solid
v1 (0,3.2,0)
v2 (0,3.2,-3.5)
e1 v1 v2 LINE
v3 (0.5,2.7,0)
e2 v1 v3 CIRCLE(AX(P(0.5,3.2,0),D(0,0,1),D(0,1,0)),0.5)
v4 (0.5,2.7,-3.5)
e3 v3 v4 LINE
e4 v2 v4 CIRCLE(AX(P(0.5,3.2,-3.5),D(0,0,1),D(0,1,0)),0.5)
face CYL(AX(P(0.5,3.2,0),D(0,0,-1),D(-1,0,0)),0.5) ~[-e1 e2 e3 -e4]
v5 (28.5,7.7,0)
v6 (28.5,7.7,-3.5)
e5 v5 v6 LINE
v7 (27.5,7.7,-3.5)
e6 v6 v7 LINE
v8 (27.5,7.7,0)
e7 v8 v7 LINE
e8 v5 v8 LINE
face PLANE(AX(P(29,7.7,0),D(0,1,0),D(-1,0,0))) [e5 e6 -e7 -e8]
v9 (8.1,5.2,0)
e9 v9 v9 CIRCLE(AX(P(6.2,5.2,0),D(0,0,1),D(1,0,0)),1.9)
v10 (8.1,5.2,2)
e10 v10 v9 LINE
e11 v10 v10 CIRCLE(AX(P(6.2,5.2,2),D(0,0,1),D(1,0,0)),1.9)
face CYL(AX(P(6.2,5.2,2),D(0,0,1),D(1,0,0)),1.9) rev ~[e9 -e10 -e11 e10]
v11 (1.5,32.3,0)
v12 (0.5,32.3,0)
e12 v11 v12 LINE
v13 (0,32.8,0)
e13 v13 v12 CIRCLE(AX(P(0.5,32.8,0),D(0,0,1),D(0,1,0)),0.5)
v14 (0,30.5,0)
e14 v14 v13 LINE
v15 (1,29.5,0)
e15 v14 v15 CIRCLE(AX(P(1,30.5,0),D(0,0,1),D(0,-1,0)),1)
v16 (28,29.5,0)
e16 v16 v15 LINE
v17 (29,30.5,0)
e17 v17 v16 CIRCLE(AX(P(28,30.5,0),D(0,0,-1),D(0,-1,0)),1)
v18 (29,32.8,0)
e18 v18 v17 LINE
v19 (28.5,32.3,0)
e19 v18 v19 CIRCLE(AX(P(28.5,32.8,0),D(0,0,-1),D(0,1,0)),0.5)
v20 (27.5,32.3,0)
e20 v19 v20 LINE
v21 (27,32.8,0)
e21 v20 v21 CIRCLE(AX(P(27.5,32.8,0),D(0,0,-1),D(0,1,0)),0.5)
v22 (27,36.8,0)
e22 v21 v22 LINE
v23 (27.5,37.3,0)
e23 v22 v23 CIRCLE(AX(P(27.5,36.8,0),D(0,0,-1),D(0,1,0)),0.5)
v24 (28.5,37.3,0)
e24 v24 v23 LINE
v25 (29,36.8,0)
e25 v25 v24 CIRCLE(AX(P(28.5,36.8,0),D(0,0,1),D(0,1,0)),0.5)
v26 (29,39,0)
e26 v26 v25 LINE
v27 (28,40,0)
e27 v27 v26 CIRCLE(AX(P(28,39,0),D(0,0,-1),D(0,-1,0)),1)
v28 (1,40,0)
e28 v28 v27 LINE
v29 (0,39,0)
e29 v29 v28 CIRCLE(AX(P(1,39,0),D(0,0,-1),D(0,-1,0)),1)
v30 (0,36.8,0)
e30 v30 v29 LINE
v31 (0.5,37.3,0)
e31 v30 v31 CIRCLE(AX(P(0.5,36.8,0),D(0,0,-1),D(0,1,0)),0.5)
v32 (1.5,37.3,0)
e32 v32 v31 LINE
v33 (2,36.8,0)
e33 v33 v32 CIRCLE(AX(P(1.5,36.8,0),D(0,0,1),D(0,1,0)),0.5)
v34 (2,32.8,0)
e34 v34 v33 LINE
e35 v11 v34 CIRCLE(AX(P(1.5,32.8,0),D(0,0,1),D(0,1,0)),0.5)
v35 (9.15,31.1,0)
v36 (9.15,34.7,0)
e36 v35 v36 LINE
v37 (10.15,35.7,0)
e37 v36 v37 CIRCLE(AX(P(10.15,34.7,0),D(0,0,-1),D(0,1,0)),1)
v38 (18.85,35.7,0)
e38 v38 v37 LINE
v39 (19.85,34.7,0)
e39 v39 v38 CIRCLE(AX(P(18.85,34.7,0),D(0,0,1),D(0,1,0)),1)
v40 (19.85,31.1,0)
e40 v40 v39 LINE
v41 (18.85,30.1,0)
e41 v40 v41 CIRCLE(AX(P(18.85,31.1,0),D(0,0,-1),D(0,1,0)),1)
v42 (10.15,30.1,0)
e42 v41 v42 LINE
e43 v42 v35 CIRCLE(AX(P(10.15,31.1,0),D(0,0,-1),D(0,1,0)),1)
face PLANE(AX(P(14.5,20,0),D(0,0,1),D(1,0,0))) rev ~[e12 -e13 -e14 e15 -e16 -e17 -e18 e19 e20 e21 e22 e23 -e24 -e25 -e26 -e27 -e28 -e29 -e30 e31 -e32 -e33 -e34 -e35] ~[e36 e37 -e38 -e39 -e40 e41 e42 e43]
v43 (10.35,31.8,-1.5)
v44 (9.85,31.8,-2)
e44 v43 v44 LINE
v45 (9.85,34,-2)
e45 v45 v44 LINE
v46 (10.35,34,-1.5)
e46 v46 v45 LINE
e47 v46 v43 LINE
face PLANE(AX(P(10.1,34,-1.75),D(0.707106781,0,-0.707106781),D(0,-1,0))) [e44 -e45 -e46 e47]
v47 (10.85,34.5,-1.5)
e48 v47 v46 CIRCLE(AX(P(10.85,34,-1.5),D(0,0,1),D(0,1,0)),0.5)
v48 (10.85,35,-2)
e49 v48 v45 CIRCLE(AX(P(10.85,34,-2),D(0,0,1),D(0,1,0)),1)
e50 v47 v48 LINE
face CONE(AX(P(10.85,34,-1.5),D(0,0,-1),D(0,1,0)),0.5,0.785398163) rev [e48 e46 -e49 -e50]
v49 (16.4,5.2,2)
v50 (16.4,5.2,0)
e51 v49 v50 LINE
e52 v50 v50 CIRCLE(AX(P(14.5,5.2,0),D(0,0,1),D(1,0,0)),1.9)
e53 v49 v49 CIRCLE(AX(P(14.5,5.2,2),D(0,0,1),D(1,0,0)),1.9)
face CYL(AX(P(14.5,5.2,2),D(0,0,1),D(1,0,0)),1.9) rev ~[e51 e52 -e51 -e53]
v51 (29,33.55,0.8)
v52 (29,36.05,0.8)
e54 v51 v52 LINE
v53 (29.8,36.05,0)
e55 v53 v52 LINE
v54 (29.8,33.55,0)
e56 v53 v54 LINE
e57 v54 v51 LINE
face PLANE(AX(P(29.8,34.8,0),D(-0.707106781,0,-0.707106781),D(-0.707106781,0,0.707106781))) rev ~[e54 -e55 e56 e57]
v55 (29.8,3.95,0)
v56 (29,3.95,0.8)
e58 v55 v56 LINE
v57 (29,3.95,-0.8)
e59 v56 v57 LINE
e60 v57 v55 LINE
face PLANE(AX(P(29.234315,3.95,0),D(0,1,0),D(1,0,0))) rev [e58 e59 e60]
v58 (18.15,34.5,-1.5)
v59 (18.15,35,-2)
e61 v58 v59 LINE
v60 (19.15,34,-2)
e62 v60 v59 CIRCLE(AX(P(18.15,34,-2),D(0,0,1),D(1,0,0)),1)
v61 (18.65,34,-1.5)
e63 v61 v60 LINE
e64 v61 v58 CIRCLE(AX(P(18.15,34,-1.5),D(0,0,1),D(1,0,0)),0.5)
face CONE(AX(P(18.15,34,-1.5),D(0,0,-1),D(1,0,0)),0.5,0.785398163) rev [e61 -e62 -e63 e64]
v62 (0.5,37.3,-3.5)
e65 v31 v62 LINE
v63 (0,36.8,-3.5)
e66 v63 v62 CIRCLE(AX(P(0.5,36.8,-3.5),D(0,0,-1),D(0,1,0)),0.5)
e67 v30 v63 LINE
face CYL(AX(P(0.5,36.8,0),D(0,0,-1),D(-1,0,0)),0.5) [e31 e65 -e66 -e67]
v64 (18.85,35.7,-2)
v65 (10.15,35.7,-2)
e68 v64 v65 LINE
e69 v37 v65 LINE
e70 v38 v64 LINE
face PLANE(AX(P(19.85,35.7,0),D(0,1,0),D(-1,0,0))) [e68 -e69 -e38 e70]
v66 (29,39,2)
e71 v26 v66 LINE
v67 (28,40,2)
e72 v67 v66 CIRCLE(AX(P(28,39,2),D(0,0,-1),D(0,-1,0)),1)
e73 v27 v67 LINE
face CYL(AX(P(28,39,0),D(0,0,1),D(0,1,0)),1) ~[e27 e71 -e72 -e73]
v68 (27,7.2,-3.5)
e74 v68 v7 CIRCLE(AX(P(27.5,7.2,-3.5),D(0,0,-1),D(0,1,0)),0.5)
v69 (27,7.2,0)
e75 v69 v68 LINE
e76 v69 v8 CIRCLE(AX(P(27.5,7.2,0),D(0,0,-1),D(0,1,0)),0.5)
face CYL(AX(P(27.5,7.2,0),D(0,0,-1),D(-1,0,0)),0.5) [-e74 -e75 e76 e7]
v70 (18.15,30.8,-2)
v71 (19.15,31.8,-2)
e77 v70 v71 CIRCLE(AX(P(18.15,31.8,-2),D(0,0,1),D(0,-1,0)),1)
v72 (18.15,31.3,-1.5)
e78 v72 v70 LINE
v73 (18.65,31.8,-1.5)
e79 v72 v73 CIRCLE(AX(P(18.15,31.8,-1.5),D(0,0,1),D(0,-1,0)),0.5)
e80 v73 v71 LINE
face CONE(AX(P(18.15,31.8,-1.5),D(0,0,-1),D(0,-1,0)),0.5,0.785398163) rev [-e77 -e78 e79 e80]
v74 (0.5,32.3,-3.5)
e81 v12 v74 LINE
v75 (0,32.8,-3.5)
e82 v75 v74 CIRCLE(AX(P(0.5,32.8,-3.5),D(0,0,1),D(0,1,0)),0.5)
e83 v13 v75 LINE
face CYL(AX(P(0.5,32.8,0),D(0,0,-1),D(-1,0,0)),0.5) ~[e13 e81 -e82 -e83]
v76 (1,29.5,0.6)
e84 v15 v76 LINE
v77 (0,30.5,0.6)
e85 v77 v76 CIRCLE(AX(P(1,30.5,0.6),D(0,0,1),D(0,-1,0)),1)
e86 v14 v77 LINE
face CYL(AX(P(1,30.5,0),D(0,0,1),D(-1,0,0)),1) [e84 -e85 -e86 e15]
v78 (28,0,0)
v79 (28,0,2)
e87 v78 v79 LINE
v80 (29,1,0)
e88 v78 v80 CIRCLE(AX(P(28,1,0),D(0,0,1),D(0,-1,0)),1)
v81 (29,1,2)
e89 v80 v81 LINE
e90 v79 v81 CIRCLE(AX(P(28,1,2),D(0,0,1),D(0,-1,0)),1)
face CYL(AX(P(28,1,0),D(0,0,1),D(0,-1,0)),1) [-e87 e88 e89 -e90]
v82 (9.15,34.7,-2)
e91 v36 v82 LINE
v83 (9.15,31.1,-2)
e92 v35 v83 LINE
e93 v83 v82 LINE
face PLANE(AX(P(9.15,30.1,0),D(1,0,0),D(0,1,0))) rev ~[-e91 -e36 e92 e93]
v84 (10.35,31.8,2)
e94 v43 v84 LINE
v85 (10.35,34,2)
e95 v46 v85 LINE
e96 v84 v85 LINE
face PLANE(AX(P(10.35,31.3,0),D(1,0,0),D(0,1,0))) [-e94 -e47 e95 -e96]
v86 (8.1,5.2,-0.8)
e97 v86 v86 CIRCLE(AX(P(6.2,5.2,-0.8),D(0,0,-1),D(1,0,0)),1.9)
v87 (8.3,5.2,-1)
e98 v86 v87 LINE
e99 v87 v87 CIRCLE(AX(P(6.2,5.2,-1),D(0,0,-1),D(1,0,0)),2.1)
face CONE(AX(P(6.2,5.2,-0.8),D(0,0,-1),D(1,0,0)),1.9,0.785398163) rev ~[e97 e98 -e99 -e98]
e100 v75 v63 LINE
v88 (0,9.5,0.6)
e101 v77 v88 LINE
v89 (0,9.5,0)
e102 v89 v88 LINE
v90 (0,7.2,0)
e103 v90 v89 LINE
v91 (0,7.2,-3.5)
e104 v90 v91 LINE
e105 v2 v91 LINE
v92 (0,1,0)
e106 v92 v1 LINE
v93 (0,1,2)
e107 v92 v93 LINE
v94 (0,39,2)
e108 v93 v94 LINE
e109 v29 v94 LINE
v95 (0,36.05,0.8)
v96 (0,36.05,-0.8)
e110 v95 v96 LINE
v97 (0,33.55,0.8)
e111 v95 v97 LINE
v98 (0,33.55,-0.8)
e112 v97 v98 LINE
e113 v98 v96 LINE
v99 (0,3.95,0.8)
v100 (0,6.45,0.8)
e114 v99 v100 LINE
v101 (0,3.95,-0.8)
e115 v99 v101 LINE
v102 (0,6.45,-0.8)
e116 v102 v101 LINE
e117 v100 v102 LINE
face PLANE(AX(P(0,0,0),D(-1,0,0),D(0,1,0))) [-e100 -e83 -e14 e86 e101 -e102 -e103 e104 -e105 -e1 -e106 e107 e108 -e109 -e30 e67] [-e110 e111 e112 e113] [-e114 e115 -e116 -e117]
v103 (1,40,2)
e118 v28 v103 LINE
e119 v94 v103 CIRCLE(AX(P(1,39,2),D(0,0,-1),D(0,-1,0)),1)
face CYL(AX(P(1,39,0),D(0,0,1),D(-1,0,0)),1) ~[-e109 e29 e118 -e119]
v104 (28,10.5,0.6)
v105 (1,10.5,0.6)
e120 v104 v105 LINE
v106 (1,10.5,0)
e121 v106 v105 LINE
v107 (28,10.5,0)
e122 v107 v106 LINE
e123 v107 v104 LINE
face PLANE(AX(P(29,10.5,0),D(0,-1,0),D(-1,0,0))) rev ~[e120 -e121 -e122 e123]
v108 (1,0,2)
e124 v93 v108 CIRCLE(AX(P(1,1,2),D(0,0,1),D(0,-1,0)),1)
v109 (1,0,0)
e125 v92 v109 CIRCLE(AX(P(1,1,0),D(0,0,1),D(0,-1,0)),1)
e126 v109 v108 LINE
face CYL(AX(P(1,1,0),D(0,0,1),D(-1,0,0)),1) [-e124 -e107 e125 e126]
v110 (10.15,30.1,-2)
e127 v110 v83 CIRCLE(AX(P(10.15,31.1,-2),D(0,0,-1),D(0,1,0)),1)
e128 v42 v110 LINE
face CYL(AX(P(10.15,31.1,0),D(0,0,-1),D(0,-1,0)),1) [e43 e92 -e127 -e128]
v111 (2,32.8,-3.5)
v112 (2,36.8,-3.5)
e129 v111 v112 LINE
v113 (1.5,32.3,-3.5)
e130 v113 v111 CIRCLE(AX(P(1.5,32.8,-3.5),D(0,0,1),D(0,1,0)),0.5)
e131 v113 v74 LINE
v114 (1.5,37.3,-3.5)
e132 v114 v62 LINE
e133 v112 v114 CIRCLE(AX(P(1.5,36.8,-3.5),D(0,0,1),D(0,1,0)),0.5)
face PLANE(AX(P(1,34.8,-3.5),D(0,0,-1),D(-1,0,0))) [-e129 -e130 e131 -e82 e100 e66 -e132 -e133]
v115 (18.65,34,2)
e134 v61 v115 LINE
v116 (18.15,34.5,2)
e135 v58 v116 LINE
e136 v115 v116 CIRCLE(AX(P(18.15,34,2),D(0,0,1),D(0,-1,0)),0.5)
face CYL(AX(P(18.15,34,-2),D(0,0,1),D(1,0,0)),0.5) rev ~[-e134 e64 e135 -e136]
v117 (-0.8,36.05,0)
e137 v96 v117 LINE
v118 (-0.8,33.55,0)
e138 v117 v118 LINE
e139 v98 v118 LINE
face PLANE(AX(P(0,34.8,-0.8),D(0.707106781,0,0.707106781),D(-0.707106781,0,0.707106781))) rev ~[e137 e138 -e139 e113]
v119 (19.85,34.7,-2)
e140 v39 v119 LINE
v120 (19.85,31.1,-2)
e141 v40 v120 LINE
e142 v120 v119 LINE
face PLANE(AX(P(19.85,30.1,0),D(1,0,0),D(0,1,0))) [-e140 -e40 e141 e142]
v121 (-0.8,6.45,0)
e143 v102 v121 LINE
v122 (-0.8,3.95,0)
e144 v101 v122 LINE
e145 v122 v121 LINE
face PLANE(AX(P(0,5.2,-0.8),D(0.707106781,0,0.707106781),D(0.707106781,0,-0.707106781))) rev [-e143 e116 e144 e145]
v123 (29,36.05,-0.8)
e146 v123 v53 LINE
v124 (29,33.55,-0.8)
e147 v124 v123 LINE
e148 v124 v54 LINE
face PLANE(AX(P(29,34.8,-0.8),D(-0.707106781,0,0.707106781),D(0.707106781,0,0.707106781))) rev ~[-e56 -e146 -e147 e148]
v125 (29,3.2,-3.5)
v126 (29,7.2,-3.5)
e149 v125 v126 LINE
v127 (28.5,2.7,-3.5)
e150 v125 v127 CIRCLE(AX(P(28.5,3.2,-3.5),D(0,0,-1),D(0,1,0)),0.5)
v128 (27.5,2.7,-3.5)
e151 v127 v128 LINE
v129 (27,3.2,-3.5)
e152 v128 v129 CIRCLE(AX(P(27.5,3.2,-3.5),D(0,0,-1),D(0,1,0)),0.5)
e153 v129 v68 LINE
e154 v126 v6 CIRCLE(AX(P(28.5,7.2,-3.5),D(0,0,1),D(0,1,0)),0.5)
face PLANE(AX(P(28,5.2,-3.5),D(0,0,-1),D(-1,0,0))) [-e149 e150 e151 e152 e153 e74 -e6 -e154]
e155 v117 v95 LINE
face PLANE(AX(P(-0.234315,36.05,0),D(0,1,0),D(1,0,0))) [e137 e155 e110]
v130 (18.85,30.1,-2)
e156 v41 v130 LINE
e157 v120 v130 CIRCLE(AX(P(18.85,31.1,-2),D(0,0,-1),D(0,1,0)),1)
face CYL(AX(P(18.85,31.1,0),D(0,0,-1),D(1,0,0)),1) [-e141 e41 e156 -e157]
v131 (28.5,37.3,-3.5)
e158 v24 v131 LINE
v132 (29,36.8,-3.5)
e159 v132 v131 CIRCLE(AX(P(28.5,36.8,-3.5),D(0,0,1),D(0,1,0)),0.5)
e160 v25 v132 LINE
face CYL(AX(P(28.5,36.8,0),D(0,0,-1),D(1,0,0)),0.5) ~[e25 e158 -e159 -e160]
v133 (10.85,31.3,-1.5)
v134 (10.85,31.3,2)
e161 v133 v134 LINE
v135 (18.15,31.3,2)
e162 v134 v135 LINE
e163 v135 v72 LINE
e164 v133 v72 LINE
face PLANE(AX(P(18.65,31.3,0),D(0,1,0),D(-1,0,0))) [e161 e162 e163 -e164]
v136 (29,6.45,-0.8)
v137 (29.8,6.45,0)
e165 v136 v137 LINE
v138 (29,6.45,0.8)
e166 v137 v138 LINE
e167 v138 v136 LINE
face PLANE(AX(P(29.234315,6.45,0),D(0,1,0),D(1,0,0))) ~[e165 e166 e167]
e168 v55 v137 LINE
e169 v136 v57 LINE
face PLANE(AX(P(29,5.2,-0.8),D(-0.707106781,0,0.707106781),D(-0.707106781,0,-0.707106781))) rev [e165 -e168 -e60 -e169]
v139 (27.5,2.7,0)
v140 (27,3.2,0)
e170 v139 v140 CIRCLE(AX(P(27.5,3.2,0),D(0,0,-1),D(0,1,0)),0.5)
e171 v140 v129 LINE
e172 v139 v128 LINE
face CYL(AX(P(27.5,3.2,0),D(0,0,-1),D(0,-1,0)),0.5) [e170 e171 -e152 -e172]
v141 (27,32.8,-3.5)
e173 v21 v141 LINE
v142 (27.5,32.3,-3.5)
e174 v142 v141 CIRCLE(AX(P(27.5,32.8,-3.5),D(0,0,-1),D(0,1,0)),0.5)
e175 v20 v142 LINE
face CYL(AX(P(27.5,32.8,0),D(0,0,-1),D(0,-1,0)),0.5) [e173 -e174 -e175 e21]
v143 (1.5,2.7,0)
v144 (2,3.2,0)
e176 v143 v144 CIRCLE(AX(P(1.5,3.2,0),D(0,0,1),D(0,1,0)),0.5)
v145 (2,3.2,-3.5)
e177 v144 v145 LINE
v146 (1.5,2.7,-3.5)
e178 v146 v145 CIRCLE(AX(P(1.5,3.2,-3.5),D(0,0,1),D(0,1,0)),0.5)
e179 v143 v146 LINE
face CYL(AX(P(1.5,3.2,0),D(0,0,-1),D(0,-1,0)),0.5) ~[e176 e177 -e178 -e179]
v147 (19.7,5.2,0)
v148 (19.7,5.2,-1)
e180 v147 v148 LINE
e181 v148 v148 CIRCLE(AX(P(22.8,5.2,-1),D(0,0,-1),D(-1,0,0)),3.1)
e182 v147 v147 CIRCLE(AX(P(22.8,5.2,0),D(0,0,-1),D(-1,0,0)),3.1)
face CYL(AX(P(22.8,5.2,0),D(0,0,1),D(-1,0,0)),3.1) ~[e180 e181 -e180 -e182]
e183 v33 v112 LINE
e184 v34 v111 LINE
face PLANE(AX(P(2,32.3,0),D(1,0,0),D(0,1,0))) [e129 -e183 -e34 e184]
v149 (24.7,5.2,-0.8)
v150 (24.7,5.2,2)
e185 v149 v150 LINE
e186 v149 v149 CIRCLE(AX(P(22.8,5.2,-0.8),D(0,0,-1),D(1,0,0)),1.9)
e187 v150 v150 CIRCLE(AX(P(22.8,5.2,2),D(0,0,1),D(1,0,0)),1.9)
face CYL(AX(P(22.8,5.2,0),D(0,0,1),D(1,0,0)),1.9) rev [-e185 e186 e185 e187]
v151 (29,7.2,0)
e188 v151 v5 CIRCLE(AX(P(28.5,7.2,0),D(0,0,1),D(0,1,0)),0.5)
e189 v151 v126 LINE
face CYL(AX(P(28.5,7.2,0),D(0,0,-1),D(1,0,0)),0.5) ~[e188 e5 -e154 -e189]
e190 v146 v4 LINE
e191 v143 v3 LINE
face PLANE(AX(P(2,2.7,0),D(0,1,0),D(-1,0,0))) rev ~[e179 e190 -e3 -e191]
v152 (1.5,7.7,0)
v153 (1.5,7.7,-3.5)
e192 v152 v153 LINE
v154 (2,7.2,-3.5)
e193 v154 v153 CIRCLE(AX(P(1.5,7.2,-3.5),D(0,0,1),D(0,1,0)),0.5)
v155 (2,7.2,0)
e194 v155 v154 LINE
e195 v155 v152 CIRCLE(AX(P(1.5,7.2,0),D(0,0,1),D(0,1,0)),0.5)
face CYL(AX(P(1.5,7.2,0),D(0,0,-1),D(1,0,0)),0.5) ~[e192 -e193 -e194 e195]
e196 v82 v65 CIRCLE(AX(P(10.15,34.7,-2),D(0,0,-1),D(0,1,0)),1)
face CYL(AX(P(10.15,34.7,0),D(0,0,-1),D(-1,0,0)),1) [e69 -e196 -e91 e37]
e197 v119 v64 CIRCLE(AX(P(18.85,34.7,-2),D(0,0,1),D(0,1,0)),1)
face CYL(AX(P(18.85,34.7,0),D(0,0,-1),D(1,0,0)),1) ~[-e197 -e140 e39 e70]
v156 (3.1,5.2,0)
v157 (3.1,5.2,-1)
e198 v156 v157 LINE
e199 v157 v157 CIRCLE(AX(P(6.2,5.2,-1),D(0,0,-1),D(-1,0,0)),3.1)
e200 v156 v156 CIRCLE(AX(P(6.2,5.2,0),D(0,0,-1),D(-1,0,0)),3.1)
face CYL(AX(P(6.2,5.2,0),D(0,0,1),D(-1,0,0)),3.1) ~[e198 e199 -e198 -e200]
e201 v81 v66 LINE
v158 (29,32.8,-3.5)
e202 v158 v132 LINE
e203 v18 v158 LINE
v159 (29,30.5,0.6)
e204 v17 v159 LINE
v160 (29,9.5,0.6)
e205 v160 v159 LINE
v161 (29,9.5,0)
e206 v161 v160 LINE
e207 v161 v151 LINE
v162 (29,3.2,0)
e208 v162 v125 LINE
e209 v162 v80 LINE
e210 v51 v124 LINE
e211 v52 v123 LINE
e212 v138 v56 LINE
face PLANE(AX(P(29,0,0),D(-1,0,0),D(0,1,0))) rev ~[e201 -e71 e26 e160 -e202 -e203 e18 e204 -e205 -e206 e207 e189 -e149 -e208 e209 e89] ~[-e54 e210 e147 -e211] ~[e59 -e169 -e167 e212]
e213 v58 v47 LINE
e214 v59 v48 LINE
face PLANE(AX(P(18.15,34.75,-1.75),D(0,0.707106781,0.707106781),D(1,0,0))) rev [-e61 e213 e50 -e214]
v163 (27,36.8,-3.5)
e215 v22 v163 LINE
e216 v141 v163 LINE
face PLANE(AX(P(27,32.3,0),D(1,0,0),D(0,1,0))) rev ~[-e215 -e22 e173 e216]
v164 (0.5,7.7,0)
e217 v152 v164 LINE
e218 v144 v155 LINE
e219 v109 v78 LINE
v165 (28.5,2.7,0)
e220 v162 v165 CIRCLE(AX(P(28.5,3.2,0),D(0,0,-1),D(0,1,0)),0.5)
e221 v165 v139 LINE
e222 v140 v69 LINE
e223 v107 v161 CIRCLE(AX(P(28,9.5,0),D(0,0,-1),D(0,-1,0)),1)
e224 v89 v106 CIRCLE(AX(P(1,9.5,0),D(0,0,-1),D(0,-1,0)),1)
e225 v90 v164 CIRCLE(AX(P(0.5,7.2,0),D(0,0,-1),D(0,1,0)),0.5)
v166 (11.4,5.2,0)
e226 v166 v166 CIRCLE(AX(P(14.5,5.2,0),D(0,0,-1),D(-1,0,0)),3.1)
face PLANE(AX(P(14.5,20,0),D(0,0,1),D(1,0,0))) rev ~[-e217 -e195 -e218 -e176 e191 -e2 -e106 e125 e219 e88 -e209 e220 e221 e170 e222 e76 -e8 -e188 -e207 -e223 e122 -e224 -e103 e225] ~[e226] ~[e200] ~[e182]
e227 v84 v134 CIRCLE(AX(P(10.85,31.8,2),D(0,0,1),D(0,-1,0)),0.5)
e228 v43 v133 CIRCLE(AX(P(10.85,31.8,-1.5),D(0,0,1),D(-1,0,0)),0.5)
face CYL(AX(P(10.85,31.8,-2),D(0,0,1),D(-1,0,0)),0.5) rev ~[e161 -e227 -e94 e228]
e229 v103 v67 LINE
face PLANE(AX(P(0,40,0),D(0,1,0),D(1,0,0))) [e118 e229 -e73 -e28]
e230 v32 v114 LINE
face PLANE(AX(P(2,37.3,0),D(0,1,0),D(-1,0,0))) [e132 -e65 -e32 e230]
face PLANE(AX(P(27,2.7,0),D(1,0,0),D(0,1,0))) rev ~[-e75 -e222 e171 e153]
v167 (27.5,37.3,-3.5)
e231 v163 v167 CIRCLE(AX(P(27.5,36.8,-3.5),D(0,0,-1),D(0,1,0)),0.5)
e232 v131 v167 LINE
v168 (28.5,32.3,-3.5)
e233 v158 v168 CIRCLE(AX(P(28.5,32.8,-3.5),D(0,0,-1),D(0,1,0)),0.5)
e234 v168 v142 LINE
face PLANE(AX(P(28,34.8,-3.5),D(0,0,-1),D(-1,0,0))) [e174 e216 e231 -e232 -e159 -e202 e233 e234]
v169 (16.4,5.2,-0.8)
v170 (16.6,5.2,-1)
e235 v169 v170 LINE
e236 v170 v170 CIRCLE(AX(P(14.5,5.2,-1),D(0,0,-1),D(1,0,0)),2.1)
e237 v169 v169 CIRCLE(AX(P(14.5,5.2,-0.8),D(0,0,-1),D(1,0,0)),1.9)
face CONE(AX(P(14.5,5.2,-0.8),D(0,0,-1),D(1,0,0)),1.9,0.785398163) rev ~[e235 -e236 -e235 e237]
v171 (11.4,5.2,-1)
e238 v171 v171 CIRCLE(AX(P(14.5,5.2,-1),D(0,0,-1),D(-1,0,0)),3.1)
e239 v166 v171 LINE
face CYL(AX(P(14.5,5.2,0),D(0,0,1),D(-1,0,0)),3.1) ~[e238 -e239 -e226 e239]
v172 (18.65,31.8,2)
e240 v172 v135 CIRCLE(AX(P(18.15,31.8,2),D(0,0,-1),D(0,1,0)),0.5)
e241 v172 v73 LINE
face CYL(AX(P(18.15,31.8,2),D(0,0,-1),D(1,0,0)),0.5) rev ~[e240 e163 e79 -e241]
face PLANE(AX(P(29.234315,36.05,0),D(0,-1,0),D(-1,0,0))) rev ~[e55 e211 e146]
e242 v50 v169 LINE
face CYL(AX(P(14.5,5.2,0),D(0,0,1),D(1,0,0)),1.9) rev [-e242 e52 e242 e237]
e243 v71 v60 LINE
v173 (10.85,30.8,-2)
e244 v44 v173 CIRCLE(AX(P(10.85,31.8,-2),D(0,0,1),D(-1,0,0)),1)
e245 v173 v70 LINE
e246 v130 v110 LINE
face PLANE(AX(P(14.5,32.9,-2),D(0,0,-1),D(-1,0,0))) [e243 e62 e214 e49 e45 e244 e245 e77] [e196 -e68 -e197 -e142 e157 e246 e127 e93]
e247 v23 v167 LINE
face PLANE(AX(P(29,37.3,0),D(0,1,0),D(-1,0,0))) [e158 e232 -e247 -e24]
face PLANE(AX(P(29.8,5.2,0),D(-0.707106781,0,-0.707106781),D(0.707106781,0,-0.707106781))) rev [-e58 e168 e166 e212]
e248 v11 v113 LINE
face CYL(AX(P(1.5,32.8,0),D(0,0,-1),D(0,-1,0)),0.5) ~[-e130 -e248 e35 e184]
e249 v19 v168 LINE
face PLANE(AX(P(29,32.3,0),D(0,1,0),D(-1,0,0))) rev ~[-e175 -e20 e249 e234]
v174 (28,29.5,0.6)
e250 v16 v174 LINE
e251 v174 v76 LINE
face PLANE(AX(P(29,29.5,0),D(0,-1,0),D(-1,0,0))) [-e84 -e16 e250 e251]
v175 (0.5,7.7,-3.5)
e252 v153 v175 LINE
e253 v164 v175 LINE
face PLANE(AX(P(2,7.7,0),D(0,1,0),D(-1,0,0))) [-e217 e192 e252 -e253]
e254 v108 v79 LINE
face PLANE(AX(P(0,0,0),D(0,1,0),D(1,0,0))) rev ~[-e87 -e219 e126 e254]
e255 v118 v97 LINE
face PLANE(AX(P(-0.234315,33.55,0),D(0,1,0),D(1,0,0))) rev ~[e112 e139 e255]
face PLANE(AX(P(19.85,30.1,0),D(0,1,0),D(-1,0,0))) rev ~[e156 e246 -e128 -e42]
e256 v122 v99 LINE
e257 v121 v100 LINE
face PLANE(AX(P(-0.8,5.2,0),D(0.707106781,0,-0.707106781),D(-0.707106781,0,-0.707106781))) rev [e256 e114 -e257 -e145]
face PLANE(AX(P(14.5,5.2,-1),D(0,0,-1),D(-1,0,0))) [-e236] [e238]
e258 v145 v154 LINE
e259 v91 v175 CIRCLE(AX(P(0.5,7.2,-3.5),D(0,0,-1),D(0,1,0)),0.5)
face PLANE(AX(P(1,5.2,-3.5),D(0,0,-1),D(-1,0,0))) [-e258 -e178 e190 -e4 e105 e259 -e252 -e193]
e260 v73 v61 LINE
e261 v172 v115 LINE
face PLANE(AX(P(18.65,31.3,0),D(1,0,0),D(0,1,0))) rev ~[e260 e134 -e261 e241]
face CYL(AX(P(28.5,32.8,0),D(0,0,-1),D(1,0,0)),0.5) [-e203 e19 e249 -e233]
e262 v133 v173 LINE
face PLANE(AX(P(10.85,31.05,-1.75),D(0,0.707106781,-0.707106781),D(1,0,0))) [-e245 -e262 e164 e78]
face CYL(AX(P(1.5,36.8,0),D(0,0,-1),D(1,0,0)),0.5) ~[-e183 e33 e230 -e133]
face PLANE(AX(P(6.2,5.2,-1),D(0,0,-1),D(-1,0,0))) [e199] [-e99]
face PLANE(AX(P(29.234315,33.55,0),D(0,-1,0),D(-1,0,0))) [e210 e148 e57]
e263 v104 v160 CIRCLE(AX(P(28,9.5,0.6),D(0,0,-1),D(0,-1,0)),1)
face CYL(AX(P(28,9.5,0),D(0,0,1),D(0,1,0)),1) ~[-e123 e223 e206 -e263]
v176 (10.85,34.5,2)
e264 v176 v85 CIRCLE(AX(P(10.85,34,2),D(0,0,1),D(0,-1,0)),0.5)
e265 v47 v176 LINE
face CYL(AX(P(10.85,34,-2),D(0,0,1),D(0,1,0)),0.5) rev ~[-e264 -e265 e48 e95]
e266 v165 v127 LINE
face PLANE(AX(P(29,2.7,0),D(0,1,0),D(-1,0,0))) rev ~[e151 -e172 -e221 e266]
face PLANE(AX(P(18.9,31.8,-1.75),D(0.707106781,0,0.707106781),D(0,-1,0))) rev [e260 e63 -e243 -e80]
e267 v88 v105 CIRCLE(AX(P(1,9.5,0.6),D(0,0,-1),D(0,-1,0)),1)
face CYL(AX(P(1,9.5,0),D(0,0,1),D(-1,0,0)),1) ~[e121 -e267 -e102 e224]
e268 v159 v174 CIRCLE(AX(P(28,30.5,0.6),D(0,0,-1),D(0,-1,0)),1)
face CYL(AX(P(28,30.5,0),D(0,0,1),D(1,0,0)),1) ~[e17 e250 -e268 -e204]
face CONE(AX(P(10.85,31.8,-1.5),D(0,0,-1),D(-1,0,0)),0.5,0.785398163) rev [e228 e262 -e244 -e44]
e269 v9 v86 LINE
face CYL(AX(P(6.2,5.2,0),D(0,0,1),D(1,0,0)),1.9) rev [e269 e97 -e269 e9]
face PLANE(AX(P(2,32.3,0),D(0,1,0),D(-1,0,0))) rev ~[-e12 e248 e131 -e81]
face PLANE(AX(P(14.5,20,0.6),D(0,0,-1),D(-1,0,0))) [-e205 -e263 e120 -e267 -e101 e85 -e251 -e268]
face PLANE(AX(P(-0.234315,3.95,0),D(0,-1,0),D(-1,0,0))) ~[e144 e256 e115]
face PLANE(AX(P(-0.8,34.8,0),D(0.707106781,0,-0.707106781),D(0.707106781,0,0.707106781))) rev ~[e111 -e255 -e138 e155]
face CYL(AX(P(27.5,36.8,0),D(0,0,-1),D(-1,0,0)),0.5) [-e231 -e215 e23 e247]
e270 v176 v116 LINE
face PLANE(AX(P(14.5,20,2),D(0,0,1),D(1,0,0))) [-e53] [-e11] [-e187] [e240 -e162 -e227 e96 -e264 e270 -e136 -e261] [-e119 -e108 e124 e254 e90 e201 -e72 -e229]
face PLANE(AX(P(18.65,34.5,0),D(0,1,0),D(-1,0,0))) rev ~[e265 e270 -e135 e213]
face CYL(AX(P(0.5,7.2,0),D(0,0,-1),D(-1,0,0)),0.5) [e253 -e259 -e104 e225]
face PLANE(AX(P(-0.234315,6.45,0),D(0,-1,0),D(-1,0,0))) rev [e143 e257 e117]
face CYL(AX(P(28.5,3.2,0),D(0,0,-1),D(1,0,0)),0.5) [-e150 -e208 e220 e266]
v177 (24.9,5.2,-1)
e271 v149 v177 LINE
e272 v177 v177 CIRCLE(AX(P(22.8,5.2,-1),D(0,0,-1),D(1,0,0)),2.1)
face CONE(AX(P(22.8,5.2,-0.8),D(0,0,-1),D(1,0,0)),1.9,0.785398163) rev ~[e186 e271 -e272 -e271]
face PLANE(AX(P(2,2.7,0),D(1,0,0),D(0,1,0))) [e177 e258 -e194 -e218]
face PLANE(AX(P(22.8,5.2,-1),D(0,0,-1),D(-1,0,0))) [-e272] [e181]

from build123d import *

# Parameters (mm, degrees)
SKETCH_1_W          = 29
SKETCH_1_H          = 40
EXTRUDE_1_DEPTH     = 2
SKETCH_2_W          = 2
SKETCH_2_H          = 5
EXTRUDE_2_DEPTH     = 3.5
SKETCH_3_W          = 8.3
SKETCH_3_H          = 3.2
CUT_EXTRUDE_1_DEPTH = 50.71166865
SKETCH_4_R          = 1.9
CUT_EXTRUDE_2_DEPTH = 50.71166865
SKETCH_5_W          = 10.7
SKETCH_5_H          = 5.6
SKETCH_5_W_2        = 8.3
SKETCH_5_H_2        = 3.2
EXTRUDE_3_DEPTH     = 2
SKETCH_6_R          = 3.1
SKETCH_6_R_2        = 1.9
EXTRUDE_4_DEPTH     = 1
EXTRUDE_5_DEPTH     = 1.25
FILLET_1_R          = 0.5
FILLET_2_R          = 0.5
CHAMFER_1_SIZE      = 0.2
CHAMFER_2_SIZE      = 0.5
FILLET_3_R          = 1
FILLET_4_R          = 1
SKETCH_9_W          = 29
SKETCH_9_H          = 19
CUT_EXTRUDE_3_DEPTH = 0.6
FILLET_5_R          = 1


with BuildPart() as part:
    # 草图1 → 凸台-拉伸1 (new body)
    with BuildSketch(Plane.XY):
        with Locations((14.5, 20)):
            Rectangle(SKETCH_1_W, SKETCH_1_H)
    extrude(amount=EXTRUDE_1_DEPTH)

    # 草图2 → 凸台-拉伸2 (add)
    with BuildSketch(Plane(origin=(0, 0, 0), x_dir=(-1, 0, 0), z_dir=(0, 0, -1))):
        with Locations((-1, 34.8)):
            Rectangle(SKETCH_2_W, SKETCH_2_H)
        with Locations((-28, 34.8)):
            Rectangle(SKETCH_2_W, SKETCH_2_H)
        with Locations((-1, 5.2)):
            Rectangle(SKETCH_2_W, SKETCH_2_H)
        with Locations((-28, 5.2)):
            Rectangle(SKETCH_2_W, SKETCH_2_H)
    extrude(amount=EXTRUDE_2_DEPTH)

    # 草图3 → 切除-拉伸1 (cut, through all)
    with BuildSketch(Plane.XY.offset(2)):
        with Locations((14.5, 32.9)):
            Rectangle(SKETCH_3_W, SKETCH_3_H)
    extrude(amount=-CUT_EXTRUDE_1_DEPTH, mode=Mode.SUBTRACT)

    # 草图4 → 切除-拉伸2 (cut, through all)
    with BuildSketch(Plane.XY.offset(2)):
        with Locations((14.5, 5.2)):
            Circle(SKETCH_4_R)
        with Locations((6.2, 5.2)):
            Circle(SKETCH_4_R)
        with Locations((22.8, 5.2)):
            Circle(SKETCH_4_R)
    extrude(amount=-CUT_EXTRUDE_2_DEPTH, mode=Mode.SUBTRACT)

    # 草图5 → 凸台-拉伸3 (add)
    with BuildSketch(Plane(origin=(0, 0, 0), x_dir=(-1, 0, 0), z_dir=(0, 0, -1))):
        with Locations((-14.5, 32.9)):
            Rectangle(SKETCH_5_W, SKETCH_5_H)
        with Locations((-14.5, 32.9)):
            Rectangle(SKETCH_5_W_2, SKETCH_5_H_2, mode=Mode.SUBTRACT)
    extrude(amount=EXTRUDE_3_DEPTH)

    # 草图6 → 凸台-拉伸4 (add)
    with BuildSketch(Plane(origin=(0, 0, 0), x_dir=(-1, 0, 0), z_dir=(0, 0, -1))):
        with Locations((-22.8, 5.2)):
            Circle(SKETCH_6_R)
        with Locations(Location((-22.8, 5.2, 0), (0, 0, 180))):
            Circle(SKETCH_6_R_2, mode=Mode.SUBTRACT)
        with Locations((-14.5, 5.2)):
            Circle(SKETCH_6_R)
        with Locations(Location((-14.5, 5.2, 0), (0, 0, 180))):
            Circle(SKETCH_6_R_2, mode=Mode.SUBTRACT)
        with Locations((-6.2, 5.2)):
            Circle(SKETCH_6_R)
        with Locations(Location((-6.2, 5.2, 0), (0, 0, 180))):
            Circle(SKETCH_6_R_2, mode=Mode.SUBTRACT)
    extrude(amount=EXTRUDE_4_DEPTH)

    # 草图10 → 凸台-拉伸5 (add, symmetric)
    with BuildSketch(Plane(origin=(0, 34.8, 0), x_dir=(-1, 0, 0), z_dir=(0, -1, 0))):
        Polygon((-29, 0.8), (-29.8, 0), (-29, -0.8), align=None)
        Polygon((0, -0.8), (0, 0.8), (0.8, 0), align=None)
    extrude_5 = extrude(amount=EXTRUDE_5_DEPTH, both=True)

    # 镜向1: 凸台-拉伸5 across plane
    add(extrude_5.mirror(Plane(origin=(0, 20, 0), x_dir=(0, 0, 1), z_dir=(0, -1, 0))))

    # 圆角1
    fillet_1_edges = [part.edges().sort_by_distance(p)[0] for p in [
        (29, 37.3, -1.75),
        (29, 32.3, -1.75),
        (27, 32.3, -1.75),
        (27, 37.3, -1.75),
        (0, 37.3, -1.75),
        (2, 37.3, -1.75),
        (2, 32.3, -1.75),
        (0, 32.3, -1.75),
        (0, 2.7, -1.75),
        (0, 7.7, -1.75),
        (2, 7.7, -1.75),
        (2, 2.7, -1.75),
        (29, 2.7, -1.75),
        (27, 2.7, -1.75),
        (27, 7.7, -1.75),
        (29, 7.7, -1.75),
    ]]
    fillet(fillet_1_edges, radius=FILLET_1_R)

    # 圆角2
    fillet_2_edges = [part.edges().sort_by_distance(p)[0] for p in [
        (18.65, 34.5, 0),
        (18.65, 31.3, 0),
        (10.35, 31.3, 0),
        (10.35, 34.5, 0),
    ]]
    fillet(fillet_2_edges, radius=FILLET_2_R)

    # 倒角1
    chamfer_1_edges = [part.edges().sort_by_distance(p)[0] for p in [
        (20.9, 5.2, -1),
        (12.6, 5.2, -1),
        (4.3, 5.2, -1),
    ]]
    chamfer(chamfer_1_edges, length=CHAMFER_1_SIZE)

    # 倒角2
    chamfer_2_edges = [part.edges().sort_by_distance(p)[0] for p in [
        (18.65, 32.9, -2),
        (14.5, 31.3, -2),
        (14.5, 34.5, -2),
        (10.35, 32.9, -2),
        (18.503553391, 31.446446609, -2),
        (18.503553391, 34.353553391, -2),
        (10.496446609, 31.446446609, -2),
        (10.496446609, 34.353553391, -2),
    ]]
    chamfer(chamfer_2_edges, length=CHAMFER_2_SIZE)

    # 圆角3
    fillet_3_edges = [part.edges().sort_by_distance(p)[0] for p in [
        (0, 40, 1),
        (29, 40, 1),
        (29, 0, 1),
        (0, 0, 1),
    ]]
    fillet(fillet_3_edges, radius=FILLET_3_R)

    # 圆角4
    fillet_4_edges = [part.edges().sort_by_distance(p)[0] for p in [
        (19.85, 30.1, -1),
        (9.15, 30.1, -1),
        (9.15, 35.7, -1),
        (19.85, 35.7, -1),
    ]]
    fillet(fillet_4_edges, radius=FILLET_4_R)

    # 草图9 → 切除-拉伸3 (cut)
    with BuildSketch(Plane(origin=(0, 0, 0), x_dir=(-1, 0, 0), z_dir=(0, 0, -1))):
        with Locations((-14.5, 20)):
            Rectangle(SKETCH_9_W, SKETCH_9_H)
    extrude(amount=-CUT_EXTRUDE_3_DEPTH, mode=Mode.SUBTRACT)

    # 圆角5
    fillet_5_edges = [part.edges().sort_by_distance(p)[0] for p in [
        (29, 10.5, 0.3),
        (29, 29.5, 0.3),
        (0, 29.5, 0.3),
        (0, 10.5, 0.3),
    ]]
    fillet(fillet_5_edges, radius=FILLET_5_R)


solid = part.part
